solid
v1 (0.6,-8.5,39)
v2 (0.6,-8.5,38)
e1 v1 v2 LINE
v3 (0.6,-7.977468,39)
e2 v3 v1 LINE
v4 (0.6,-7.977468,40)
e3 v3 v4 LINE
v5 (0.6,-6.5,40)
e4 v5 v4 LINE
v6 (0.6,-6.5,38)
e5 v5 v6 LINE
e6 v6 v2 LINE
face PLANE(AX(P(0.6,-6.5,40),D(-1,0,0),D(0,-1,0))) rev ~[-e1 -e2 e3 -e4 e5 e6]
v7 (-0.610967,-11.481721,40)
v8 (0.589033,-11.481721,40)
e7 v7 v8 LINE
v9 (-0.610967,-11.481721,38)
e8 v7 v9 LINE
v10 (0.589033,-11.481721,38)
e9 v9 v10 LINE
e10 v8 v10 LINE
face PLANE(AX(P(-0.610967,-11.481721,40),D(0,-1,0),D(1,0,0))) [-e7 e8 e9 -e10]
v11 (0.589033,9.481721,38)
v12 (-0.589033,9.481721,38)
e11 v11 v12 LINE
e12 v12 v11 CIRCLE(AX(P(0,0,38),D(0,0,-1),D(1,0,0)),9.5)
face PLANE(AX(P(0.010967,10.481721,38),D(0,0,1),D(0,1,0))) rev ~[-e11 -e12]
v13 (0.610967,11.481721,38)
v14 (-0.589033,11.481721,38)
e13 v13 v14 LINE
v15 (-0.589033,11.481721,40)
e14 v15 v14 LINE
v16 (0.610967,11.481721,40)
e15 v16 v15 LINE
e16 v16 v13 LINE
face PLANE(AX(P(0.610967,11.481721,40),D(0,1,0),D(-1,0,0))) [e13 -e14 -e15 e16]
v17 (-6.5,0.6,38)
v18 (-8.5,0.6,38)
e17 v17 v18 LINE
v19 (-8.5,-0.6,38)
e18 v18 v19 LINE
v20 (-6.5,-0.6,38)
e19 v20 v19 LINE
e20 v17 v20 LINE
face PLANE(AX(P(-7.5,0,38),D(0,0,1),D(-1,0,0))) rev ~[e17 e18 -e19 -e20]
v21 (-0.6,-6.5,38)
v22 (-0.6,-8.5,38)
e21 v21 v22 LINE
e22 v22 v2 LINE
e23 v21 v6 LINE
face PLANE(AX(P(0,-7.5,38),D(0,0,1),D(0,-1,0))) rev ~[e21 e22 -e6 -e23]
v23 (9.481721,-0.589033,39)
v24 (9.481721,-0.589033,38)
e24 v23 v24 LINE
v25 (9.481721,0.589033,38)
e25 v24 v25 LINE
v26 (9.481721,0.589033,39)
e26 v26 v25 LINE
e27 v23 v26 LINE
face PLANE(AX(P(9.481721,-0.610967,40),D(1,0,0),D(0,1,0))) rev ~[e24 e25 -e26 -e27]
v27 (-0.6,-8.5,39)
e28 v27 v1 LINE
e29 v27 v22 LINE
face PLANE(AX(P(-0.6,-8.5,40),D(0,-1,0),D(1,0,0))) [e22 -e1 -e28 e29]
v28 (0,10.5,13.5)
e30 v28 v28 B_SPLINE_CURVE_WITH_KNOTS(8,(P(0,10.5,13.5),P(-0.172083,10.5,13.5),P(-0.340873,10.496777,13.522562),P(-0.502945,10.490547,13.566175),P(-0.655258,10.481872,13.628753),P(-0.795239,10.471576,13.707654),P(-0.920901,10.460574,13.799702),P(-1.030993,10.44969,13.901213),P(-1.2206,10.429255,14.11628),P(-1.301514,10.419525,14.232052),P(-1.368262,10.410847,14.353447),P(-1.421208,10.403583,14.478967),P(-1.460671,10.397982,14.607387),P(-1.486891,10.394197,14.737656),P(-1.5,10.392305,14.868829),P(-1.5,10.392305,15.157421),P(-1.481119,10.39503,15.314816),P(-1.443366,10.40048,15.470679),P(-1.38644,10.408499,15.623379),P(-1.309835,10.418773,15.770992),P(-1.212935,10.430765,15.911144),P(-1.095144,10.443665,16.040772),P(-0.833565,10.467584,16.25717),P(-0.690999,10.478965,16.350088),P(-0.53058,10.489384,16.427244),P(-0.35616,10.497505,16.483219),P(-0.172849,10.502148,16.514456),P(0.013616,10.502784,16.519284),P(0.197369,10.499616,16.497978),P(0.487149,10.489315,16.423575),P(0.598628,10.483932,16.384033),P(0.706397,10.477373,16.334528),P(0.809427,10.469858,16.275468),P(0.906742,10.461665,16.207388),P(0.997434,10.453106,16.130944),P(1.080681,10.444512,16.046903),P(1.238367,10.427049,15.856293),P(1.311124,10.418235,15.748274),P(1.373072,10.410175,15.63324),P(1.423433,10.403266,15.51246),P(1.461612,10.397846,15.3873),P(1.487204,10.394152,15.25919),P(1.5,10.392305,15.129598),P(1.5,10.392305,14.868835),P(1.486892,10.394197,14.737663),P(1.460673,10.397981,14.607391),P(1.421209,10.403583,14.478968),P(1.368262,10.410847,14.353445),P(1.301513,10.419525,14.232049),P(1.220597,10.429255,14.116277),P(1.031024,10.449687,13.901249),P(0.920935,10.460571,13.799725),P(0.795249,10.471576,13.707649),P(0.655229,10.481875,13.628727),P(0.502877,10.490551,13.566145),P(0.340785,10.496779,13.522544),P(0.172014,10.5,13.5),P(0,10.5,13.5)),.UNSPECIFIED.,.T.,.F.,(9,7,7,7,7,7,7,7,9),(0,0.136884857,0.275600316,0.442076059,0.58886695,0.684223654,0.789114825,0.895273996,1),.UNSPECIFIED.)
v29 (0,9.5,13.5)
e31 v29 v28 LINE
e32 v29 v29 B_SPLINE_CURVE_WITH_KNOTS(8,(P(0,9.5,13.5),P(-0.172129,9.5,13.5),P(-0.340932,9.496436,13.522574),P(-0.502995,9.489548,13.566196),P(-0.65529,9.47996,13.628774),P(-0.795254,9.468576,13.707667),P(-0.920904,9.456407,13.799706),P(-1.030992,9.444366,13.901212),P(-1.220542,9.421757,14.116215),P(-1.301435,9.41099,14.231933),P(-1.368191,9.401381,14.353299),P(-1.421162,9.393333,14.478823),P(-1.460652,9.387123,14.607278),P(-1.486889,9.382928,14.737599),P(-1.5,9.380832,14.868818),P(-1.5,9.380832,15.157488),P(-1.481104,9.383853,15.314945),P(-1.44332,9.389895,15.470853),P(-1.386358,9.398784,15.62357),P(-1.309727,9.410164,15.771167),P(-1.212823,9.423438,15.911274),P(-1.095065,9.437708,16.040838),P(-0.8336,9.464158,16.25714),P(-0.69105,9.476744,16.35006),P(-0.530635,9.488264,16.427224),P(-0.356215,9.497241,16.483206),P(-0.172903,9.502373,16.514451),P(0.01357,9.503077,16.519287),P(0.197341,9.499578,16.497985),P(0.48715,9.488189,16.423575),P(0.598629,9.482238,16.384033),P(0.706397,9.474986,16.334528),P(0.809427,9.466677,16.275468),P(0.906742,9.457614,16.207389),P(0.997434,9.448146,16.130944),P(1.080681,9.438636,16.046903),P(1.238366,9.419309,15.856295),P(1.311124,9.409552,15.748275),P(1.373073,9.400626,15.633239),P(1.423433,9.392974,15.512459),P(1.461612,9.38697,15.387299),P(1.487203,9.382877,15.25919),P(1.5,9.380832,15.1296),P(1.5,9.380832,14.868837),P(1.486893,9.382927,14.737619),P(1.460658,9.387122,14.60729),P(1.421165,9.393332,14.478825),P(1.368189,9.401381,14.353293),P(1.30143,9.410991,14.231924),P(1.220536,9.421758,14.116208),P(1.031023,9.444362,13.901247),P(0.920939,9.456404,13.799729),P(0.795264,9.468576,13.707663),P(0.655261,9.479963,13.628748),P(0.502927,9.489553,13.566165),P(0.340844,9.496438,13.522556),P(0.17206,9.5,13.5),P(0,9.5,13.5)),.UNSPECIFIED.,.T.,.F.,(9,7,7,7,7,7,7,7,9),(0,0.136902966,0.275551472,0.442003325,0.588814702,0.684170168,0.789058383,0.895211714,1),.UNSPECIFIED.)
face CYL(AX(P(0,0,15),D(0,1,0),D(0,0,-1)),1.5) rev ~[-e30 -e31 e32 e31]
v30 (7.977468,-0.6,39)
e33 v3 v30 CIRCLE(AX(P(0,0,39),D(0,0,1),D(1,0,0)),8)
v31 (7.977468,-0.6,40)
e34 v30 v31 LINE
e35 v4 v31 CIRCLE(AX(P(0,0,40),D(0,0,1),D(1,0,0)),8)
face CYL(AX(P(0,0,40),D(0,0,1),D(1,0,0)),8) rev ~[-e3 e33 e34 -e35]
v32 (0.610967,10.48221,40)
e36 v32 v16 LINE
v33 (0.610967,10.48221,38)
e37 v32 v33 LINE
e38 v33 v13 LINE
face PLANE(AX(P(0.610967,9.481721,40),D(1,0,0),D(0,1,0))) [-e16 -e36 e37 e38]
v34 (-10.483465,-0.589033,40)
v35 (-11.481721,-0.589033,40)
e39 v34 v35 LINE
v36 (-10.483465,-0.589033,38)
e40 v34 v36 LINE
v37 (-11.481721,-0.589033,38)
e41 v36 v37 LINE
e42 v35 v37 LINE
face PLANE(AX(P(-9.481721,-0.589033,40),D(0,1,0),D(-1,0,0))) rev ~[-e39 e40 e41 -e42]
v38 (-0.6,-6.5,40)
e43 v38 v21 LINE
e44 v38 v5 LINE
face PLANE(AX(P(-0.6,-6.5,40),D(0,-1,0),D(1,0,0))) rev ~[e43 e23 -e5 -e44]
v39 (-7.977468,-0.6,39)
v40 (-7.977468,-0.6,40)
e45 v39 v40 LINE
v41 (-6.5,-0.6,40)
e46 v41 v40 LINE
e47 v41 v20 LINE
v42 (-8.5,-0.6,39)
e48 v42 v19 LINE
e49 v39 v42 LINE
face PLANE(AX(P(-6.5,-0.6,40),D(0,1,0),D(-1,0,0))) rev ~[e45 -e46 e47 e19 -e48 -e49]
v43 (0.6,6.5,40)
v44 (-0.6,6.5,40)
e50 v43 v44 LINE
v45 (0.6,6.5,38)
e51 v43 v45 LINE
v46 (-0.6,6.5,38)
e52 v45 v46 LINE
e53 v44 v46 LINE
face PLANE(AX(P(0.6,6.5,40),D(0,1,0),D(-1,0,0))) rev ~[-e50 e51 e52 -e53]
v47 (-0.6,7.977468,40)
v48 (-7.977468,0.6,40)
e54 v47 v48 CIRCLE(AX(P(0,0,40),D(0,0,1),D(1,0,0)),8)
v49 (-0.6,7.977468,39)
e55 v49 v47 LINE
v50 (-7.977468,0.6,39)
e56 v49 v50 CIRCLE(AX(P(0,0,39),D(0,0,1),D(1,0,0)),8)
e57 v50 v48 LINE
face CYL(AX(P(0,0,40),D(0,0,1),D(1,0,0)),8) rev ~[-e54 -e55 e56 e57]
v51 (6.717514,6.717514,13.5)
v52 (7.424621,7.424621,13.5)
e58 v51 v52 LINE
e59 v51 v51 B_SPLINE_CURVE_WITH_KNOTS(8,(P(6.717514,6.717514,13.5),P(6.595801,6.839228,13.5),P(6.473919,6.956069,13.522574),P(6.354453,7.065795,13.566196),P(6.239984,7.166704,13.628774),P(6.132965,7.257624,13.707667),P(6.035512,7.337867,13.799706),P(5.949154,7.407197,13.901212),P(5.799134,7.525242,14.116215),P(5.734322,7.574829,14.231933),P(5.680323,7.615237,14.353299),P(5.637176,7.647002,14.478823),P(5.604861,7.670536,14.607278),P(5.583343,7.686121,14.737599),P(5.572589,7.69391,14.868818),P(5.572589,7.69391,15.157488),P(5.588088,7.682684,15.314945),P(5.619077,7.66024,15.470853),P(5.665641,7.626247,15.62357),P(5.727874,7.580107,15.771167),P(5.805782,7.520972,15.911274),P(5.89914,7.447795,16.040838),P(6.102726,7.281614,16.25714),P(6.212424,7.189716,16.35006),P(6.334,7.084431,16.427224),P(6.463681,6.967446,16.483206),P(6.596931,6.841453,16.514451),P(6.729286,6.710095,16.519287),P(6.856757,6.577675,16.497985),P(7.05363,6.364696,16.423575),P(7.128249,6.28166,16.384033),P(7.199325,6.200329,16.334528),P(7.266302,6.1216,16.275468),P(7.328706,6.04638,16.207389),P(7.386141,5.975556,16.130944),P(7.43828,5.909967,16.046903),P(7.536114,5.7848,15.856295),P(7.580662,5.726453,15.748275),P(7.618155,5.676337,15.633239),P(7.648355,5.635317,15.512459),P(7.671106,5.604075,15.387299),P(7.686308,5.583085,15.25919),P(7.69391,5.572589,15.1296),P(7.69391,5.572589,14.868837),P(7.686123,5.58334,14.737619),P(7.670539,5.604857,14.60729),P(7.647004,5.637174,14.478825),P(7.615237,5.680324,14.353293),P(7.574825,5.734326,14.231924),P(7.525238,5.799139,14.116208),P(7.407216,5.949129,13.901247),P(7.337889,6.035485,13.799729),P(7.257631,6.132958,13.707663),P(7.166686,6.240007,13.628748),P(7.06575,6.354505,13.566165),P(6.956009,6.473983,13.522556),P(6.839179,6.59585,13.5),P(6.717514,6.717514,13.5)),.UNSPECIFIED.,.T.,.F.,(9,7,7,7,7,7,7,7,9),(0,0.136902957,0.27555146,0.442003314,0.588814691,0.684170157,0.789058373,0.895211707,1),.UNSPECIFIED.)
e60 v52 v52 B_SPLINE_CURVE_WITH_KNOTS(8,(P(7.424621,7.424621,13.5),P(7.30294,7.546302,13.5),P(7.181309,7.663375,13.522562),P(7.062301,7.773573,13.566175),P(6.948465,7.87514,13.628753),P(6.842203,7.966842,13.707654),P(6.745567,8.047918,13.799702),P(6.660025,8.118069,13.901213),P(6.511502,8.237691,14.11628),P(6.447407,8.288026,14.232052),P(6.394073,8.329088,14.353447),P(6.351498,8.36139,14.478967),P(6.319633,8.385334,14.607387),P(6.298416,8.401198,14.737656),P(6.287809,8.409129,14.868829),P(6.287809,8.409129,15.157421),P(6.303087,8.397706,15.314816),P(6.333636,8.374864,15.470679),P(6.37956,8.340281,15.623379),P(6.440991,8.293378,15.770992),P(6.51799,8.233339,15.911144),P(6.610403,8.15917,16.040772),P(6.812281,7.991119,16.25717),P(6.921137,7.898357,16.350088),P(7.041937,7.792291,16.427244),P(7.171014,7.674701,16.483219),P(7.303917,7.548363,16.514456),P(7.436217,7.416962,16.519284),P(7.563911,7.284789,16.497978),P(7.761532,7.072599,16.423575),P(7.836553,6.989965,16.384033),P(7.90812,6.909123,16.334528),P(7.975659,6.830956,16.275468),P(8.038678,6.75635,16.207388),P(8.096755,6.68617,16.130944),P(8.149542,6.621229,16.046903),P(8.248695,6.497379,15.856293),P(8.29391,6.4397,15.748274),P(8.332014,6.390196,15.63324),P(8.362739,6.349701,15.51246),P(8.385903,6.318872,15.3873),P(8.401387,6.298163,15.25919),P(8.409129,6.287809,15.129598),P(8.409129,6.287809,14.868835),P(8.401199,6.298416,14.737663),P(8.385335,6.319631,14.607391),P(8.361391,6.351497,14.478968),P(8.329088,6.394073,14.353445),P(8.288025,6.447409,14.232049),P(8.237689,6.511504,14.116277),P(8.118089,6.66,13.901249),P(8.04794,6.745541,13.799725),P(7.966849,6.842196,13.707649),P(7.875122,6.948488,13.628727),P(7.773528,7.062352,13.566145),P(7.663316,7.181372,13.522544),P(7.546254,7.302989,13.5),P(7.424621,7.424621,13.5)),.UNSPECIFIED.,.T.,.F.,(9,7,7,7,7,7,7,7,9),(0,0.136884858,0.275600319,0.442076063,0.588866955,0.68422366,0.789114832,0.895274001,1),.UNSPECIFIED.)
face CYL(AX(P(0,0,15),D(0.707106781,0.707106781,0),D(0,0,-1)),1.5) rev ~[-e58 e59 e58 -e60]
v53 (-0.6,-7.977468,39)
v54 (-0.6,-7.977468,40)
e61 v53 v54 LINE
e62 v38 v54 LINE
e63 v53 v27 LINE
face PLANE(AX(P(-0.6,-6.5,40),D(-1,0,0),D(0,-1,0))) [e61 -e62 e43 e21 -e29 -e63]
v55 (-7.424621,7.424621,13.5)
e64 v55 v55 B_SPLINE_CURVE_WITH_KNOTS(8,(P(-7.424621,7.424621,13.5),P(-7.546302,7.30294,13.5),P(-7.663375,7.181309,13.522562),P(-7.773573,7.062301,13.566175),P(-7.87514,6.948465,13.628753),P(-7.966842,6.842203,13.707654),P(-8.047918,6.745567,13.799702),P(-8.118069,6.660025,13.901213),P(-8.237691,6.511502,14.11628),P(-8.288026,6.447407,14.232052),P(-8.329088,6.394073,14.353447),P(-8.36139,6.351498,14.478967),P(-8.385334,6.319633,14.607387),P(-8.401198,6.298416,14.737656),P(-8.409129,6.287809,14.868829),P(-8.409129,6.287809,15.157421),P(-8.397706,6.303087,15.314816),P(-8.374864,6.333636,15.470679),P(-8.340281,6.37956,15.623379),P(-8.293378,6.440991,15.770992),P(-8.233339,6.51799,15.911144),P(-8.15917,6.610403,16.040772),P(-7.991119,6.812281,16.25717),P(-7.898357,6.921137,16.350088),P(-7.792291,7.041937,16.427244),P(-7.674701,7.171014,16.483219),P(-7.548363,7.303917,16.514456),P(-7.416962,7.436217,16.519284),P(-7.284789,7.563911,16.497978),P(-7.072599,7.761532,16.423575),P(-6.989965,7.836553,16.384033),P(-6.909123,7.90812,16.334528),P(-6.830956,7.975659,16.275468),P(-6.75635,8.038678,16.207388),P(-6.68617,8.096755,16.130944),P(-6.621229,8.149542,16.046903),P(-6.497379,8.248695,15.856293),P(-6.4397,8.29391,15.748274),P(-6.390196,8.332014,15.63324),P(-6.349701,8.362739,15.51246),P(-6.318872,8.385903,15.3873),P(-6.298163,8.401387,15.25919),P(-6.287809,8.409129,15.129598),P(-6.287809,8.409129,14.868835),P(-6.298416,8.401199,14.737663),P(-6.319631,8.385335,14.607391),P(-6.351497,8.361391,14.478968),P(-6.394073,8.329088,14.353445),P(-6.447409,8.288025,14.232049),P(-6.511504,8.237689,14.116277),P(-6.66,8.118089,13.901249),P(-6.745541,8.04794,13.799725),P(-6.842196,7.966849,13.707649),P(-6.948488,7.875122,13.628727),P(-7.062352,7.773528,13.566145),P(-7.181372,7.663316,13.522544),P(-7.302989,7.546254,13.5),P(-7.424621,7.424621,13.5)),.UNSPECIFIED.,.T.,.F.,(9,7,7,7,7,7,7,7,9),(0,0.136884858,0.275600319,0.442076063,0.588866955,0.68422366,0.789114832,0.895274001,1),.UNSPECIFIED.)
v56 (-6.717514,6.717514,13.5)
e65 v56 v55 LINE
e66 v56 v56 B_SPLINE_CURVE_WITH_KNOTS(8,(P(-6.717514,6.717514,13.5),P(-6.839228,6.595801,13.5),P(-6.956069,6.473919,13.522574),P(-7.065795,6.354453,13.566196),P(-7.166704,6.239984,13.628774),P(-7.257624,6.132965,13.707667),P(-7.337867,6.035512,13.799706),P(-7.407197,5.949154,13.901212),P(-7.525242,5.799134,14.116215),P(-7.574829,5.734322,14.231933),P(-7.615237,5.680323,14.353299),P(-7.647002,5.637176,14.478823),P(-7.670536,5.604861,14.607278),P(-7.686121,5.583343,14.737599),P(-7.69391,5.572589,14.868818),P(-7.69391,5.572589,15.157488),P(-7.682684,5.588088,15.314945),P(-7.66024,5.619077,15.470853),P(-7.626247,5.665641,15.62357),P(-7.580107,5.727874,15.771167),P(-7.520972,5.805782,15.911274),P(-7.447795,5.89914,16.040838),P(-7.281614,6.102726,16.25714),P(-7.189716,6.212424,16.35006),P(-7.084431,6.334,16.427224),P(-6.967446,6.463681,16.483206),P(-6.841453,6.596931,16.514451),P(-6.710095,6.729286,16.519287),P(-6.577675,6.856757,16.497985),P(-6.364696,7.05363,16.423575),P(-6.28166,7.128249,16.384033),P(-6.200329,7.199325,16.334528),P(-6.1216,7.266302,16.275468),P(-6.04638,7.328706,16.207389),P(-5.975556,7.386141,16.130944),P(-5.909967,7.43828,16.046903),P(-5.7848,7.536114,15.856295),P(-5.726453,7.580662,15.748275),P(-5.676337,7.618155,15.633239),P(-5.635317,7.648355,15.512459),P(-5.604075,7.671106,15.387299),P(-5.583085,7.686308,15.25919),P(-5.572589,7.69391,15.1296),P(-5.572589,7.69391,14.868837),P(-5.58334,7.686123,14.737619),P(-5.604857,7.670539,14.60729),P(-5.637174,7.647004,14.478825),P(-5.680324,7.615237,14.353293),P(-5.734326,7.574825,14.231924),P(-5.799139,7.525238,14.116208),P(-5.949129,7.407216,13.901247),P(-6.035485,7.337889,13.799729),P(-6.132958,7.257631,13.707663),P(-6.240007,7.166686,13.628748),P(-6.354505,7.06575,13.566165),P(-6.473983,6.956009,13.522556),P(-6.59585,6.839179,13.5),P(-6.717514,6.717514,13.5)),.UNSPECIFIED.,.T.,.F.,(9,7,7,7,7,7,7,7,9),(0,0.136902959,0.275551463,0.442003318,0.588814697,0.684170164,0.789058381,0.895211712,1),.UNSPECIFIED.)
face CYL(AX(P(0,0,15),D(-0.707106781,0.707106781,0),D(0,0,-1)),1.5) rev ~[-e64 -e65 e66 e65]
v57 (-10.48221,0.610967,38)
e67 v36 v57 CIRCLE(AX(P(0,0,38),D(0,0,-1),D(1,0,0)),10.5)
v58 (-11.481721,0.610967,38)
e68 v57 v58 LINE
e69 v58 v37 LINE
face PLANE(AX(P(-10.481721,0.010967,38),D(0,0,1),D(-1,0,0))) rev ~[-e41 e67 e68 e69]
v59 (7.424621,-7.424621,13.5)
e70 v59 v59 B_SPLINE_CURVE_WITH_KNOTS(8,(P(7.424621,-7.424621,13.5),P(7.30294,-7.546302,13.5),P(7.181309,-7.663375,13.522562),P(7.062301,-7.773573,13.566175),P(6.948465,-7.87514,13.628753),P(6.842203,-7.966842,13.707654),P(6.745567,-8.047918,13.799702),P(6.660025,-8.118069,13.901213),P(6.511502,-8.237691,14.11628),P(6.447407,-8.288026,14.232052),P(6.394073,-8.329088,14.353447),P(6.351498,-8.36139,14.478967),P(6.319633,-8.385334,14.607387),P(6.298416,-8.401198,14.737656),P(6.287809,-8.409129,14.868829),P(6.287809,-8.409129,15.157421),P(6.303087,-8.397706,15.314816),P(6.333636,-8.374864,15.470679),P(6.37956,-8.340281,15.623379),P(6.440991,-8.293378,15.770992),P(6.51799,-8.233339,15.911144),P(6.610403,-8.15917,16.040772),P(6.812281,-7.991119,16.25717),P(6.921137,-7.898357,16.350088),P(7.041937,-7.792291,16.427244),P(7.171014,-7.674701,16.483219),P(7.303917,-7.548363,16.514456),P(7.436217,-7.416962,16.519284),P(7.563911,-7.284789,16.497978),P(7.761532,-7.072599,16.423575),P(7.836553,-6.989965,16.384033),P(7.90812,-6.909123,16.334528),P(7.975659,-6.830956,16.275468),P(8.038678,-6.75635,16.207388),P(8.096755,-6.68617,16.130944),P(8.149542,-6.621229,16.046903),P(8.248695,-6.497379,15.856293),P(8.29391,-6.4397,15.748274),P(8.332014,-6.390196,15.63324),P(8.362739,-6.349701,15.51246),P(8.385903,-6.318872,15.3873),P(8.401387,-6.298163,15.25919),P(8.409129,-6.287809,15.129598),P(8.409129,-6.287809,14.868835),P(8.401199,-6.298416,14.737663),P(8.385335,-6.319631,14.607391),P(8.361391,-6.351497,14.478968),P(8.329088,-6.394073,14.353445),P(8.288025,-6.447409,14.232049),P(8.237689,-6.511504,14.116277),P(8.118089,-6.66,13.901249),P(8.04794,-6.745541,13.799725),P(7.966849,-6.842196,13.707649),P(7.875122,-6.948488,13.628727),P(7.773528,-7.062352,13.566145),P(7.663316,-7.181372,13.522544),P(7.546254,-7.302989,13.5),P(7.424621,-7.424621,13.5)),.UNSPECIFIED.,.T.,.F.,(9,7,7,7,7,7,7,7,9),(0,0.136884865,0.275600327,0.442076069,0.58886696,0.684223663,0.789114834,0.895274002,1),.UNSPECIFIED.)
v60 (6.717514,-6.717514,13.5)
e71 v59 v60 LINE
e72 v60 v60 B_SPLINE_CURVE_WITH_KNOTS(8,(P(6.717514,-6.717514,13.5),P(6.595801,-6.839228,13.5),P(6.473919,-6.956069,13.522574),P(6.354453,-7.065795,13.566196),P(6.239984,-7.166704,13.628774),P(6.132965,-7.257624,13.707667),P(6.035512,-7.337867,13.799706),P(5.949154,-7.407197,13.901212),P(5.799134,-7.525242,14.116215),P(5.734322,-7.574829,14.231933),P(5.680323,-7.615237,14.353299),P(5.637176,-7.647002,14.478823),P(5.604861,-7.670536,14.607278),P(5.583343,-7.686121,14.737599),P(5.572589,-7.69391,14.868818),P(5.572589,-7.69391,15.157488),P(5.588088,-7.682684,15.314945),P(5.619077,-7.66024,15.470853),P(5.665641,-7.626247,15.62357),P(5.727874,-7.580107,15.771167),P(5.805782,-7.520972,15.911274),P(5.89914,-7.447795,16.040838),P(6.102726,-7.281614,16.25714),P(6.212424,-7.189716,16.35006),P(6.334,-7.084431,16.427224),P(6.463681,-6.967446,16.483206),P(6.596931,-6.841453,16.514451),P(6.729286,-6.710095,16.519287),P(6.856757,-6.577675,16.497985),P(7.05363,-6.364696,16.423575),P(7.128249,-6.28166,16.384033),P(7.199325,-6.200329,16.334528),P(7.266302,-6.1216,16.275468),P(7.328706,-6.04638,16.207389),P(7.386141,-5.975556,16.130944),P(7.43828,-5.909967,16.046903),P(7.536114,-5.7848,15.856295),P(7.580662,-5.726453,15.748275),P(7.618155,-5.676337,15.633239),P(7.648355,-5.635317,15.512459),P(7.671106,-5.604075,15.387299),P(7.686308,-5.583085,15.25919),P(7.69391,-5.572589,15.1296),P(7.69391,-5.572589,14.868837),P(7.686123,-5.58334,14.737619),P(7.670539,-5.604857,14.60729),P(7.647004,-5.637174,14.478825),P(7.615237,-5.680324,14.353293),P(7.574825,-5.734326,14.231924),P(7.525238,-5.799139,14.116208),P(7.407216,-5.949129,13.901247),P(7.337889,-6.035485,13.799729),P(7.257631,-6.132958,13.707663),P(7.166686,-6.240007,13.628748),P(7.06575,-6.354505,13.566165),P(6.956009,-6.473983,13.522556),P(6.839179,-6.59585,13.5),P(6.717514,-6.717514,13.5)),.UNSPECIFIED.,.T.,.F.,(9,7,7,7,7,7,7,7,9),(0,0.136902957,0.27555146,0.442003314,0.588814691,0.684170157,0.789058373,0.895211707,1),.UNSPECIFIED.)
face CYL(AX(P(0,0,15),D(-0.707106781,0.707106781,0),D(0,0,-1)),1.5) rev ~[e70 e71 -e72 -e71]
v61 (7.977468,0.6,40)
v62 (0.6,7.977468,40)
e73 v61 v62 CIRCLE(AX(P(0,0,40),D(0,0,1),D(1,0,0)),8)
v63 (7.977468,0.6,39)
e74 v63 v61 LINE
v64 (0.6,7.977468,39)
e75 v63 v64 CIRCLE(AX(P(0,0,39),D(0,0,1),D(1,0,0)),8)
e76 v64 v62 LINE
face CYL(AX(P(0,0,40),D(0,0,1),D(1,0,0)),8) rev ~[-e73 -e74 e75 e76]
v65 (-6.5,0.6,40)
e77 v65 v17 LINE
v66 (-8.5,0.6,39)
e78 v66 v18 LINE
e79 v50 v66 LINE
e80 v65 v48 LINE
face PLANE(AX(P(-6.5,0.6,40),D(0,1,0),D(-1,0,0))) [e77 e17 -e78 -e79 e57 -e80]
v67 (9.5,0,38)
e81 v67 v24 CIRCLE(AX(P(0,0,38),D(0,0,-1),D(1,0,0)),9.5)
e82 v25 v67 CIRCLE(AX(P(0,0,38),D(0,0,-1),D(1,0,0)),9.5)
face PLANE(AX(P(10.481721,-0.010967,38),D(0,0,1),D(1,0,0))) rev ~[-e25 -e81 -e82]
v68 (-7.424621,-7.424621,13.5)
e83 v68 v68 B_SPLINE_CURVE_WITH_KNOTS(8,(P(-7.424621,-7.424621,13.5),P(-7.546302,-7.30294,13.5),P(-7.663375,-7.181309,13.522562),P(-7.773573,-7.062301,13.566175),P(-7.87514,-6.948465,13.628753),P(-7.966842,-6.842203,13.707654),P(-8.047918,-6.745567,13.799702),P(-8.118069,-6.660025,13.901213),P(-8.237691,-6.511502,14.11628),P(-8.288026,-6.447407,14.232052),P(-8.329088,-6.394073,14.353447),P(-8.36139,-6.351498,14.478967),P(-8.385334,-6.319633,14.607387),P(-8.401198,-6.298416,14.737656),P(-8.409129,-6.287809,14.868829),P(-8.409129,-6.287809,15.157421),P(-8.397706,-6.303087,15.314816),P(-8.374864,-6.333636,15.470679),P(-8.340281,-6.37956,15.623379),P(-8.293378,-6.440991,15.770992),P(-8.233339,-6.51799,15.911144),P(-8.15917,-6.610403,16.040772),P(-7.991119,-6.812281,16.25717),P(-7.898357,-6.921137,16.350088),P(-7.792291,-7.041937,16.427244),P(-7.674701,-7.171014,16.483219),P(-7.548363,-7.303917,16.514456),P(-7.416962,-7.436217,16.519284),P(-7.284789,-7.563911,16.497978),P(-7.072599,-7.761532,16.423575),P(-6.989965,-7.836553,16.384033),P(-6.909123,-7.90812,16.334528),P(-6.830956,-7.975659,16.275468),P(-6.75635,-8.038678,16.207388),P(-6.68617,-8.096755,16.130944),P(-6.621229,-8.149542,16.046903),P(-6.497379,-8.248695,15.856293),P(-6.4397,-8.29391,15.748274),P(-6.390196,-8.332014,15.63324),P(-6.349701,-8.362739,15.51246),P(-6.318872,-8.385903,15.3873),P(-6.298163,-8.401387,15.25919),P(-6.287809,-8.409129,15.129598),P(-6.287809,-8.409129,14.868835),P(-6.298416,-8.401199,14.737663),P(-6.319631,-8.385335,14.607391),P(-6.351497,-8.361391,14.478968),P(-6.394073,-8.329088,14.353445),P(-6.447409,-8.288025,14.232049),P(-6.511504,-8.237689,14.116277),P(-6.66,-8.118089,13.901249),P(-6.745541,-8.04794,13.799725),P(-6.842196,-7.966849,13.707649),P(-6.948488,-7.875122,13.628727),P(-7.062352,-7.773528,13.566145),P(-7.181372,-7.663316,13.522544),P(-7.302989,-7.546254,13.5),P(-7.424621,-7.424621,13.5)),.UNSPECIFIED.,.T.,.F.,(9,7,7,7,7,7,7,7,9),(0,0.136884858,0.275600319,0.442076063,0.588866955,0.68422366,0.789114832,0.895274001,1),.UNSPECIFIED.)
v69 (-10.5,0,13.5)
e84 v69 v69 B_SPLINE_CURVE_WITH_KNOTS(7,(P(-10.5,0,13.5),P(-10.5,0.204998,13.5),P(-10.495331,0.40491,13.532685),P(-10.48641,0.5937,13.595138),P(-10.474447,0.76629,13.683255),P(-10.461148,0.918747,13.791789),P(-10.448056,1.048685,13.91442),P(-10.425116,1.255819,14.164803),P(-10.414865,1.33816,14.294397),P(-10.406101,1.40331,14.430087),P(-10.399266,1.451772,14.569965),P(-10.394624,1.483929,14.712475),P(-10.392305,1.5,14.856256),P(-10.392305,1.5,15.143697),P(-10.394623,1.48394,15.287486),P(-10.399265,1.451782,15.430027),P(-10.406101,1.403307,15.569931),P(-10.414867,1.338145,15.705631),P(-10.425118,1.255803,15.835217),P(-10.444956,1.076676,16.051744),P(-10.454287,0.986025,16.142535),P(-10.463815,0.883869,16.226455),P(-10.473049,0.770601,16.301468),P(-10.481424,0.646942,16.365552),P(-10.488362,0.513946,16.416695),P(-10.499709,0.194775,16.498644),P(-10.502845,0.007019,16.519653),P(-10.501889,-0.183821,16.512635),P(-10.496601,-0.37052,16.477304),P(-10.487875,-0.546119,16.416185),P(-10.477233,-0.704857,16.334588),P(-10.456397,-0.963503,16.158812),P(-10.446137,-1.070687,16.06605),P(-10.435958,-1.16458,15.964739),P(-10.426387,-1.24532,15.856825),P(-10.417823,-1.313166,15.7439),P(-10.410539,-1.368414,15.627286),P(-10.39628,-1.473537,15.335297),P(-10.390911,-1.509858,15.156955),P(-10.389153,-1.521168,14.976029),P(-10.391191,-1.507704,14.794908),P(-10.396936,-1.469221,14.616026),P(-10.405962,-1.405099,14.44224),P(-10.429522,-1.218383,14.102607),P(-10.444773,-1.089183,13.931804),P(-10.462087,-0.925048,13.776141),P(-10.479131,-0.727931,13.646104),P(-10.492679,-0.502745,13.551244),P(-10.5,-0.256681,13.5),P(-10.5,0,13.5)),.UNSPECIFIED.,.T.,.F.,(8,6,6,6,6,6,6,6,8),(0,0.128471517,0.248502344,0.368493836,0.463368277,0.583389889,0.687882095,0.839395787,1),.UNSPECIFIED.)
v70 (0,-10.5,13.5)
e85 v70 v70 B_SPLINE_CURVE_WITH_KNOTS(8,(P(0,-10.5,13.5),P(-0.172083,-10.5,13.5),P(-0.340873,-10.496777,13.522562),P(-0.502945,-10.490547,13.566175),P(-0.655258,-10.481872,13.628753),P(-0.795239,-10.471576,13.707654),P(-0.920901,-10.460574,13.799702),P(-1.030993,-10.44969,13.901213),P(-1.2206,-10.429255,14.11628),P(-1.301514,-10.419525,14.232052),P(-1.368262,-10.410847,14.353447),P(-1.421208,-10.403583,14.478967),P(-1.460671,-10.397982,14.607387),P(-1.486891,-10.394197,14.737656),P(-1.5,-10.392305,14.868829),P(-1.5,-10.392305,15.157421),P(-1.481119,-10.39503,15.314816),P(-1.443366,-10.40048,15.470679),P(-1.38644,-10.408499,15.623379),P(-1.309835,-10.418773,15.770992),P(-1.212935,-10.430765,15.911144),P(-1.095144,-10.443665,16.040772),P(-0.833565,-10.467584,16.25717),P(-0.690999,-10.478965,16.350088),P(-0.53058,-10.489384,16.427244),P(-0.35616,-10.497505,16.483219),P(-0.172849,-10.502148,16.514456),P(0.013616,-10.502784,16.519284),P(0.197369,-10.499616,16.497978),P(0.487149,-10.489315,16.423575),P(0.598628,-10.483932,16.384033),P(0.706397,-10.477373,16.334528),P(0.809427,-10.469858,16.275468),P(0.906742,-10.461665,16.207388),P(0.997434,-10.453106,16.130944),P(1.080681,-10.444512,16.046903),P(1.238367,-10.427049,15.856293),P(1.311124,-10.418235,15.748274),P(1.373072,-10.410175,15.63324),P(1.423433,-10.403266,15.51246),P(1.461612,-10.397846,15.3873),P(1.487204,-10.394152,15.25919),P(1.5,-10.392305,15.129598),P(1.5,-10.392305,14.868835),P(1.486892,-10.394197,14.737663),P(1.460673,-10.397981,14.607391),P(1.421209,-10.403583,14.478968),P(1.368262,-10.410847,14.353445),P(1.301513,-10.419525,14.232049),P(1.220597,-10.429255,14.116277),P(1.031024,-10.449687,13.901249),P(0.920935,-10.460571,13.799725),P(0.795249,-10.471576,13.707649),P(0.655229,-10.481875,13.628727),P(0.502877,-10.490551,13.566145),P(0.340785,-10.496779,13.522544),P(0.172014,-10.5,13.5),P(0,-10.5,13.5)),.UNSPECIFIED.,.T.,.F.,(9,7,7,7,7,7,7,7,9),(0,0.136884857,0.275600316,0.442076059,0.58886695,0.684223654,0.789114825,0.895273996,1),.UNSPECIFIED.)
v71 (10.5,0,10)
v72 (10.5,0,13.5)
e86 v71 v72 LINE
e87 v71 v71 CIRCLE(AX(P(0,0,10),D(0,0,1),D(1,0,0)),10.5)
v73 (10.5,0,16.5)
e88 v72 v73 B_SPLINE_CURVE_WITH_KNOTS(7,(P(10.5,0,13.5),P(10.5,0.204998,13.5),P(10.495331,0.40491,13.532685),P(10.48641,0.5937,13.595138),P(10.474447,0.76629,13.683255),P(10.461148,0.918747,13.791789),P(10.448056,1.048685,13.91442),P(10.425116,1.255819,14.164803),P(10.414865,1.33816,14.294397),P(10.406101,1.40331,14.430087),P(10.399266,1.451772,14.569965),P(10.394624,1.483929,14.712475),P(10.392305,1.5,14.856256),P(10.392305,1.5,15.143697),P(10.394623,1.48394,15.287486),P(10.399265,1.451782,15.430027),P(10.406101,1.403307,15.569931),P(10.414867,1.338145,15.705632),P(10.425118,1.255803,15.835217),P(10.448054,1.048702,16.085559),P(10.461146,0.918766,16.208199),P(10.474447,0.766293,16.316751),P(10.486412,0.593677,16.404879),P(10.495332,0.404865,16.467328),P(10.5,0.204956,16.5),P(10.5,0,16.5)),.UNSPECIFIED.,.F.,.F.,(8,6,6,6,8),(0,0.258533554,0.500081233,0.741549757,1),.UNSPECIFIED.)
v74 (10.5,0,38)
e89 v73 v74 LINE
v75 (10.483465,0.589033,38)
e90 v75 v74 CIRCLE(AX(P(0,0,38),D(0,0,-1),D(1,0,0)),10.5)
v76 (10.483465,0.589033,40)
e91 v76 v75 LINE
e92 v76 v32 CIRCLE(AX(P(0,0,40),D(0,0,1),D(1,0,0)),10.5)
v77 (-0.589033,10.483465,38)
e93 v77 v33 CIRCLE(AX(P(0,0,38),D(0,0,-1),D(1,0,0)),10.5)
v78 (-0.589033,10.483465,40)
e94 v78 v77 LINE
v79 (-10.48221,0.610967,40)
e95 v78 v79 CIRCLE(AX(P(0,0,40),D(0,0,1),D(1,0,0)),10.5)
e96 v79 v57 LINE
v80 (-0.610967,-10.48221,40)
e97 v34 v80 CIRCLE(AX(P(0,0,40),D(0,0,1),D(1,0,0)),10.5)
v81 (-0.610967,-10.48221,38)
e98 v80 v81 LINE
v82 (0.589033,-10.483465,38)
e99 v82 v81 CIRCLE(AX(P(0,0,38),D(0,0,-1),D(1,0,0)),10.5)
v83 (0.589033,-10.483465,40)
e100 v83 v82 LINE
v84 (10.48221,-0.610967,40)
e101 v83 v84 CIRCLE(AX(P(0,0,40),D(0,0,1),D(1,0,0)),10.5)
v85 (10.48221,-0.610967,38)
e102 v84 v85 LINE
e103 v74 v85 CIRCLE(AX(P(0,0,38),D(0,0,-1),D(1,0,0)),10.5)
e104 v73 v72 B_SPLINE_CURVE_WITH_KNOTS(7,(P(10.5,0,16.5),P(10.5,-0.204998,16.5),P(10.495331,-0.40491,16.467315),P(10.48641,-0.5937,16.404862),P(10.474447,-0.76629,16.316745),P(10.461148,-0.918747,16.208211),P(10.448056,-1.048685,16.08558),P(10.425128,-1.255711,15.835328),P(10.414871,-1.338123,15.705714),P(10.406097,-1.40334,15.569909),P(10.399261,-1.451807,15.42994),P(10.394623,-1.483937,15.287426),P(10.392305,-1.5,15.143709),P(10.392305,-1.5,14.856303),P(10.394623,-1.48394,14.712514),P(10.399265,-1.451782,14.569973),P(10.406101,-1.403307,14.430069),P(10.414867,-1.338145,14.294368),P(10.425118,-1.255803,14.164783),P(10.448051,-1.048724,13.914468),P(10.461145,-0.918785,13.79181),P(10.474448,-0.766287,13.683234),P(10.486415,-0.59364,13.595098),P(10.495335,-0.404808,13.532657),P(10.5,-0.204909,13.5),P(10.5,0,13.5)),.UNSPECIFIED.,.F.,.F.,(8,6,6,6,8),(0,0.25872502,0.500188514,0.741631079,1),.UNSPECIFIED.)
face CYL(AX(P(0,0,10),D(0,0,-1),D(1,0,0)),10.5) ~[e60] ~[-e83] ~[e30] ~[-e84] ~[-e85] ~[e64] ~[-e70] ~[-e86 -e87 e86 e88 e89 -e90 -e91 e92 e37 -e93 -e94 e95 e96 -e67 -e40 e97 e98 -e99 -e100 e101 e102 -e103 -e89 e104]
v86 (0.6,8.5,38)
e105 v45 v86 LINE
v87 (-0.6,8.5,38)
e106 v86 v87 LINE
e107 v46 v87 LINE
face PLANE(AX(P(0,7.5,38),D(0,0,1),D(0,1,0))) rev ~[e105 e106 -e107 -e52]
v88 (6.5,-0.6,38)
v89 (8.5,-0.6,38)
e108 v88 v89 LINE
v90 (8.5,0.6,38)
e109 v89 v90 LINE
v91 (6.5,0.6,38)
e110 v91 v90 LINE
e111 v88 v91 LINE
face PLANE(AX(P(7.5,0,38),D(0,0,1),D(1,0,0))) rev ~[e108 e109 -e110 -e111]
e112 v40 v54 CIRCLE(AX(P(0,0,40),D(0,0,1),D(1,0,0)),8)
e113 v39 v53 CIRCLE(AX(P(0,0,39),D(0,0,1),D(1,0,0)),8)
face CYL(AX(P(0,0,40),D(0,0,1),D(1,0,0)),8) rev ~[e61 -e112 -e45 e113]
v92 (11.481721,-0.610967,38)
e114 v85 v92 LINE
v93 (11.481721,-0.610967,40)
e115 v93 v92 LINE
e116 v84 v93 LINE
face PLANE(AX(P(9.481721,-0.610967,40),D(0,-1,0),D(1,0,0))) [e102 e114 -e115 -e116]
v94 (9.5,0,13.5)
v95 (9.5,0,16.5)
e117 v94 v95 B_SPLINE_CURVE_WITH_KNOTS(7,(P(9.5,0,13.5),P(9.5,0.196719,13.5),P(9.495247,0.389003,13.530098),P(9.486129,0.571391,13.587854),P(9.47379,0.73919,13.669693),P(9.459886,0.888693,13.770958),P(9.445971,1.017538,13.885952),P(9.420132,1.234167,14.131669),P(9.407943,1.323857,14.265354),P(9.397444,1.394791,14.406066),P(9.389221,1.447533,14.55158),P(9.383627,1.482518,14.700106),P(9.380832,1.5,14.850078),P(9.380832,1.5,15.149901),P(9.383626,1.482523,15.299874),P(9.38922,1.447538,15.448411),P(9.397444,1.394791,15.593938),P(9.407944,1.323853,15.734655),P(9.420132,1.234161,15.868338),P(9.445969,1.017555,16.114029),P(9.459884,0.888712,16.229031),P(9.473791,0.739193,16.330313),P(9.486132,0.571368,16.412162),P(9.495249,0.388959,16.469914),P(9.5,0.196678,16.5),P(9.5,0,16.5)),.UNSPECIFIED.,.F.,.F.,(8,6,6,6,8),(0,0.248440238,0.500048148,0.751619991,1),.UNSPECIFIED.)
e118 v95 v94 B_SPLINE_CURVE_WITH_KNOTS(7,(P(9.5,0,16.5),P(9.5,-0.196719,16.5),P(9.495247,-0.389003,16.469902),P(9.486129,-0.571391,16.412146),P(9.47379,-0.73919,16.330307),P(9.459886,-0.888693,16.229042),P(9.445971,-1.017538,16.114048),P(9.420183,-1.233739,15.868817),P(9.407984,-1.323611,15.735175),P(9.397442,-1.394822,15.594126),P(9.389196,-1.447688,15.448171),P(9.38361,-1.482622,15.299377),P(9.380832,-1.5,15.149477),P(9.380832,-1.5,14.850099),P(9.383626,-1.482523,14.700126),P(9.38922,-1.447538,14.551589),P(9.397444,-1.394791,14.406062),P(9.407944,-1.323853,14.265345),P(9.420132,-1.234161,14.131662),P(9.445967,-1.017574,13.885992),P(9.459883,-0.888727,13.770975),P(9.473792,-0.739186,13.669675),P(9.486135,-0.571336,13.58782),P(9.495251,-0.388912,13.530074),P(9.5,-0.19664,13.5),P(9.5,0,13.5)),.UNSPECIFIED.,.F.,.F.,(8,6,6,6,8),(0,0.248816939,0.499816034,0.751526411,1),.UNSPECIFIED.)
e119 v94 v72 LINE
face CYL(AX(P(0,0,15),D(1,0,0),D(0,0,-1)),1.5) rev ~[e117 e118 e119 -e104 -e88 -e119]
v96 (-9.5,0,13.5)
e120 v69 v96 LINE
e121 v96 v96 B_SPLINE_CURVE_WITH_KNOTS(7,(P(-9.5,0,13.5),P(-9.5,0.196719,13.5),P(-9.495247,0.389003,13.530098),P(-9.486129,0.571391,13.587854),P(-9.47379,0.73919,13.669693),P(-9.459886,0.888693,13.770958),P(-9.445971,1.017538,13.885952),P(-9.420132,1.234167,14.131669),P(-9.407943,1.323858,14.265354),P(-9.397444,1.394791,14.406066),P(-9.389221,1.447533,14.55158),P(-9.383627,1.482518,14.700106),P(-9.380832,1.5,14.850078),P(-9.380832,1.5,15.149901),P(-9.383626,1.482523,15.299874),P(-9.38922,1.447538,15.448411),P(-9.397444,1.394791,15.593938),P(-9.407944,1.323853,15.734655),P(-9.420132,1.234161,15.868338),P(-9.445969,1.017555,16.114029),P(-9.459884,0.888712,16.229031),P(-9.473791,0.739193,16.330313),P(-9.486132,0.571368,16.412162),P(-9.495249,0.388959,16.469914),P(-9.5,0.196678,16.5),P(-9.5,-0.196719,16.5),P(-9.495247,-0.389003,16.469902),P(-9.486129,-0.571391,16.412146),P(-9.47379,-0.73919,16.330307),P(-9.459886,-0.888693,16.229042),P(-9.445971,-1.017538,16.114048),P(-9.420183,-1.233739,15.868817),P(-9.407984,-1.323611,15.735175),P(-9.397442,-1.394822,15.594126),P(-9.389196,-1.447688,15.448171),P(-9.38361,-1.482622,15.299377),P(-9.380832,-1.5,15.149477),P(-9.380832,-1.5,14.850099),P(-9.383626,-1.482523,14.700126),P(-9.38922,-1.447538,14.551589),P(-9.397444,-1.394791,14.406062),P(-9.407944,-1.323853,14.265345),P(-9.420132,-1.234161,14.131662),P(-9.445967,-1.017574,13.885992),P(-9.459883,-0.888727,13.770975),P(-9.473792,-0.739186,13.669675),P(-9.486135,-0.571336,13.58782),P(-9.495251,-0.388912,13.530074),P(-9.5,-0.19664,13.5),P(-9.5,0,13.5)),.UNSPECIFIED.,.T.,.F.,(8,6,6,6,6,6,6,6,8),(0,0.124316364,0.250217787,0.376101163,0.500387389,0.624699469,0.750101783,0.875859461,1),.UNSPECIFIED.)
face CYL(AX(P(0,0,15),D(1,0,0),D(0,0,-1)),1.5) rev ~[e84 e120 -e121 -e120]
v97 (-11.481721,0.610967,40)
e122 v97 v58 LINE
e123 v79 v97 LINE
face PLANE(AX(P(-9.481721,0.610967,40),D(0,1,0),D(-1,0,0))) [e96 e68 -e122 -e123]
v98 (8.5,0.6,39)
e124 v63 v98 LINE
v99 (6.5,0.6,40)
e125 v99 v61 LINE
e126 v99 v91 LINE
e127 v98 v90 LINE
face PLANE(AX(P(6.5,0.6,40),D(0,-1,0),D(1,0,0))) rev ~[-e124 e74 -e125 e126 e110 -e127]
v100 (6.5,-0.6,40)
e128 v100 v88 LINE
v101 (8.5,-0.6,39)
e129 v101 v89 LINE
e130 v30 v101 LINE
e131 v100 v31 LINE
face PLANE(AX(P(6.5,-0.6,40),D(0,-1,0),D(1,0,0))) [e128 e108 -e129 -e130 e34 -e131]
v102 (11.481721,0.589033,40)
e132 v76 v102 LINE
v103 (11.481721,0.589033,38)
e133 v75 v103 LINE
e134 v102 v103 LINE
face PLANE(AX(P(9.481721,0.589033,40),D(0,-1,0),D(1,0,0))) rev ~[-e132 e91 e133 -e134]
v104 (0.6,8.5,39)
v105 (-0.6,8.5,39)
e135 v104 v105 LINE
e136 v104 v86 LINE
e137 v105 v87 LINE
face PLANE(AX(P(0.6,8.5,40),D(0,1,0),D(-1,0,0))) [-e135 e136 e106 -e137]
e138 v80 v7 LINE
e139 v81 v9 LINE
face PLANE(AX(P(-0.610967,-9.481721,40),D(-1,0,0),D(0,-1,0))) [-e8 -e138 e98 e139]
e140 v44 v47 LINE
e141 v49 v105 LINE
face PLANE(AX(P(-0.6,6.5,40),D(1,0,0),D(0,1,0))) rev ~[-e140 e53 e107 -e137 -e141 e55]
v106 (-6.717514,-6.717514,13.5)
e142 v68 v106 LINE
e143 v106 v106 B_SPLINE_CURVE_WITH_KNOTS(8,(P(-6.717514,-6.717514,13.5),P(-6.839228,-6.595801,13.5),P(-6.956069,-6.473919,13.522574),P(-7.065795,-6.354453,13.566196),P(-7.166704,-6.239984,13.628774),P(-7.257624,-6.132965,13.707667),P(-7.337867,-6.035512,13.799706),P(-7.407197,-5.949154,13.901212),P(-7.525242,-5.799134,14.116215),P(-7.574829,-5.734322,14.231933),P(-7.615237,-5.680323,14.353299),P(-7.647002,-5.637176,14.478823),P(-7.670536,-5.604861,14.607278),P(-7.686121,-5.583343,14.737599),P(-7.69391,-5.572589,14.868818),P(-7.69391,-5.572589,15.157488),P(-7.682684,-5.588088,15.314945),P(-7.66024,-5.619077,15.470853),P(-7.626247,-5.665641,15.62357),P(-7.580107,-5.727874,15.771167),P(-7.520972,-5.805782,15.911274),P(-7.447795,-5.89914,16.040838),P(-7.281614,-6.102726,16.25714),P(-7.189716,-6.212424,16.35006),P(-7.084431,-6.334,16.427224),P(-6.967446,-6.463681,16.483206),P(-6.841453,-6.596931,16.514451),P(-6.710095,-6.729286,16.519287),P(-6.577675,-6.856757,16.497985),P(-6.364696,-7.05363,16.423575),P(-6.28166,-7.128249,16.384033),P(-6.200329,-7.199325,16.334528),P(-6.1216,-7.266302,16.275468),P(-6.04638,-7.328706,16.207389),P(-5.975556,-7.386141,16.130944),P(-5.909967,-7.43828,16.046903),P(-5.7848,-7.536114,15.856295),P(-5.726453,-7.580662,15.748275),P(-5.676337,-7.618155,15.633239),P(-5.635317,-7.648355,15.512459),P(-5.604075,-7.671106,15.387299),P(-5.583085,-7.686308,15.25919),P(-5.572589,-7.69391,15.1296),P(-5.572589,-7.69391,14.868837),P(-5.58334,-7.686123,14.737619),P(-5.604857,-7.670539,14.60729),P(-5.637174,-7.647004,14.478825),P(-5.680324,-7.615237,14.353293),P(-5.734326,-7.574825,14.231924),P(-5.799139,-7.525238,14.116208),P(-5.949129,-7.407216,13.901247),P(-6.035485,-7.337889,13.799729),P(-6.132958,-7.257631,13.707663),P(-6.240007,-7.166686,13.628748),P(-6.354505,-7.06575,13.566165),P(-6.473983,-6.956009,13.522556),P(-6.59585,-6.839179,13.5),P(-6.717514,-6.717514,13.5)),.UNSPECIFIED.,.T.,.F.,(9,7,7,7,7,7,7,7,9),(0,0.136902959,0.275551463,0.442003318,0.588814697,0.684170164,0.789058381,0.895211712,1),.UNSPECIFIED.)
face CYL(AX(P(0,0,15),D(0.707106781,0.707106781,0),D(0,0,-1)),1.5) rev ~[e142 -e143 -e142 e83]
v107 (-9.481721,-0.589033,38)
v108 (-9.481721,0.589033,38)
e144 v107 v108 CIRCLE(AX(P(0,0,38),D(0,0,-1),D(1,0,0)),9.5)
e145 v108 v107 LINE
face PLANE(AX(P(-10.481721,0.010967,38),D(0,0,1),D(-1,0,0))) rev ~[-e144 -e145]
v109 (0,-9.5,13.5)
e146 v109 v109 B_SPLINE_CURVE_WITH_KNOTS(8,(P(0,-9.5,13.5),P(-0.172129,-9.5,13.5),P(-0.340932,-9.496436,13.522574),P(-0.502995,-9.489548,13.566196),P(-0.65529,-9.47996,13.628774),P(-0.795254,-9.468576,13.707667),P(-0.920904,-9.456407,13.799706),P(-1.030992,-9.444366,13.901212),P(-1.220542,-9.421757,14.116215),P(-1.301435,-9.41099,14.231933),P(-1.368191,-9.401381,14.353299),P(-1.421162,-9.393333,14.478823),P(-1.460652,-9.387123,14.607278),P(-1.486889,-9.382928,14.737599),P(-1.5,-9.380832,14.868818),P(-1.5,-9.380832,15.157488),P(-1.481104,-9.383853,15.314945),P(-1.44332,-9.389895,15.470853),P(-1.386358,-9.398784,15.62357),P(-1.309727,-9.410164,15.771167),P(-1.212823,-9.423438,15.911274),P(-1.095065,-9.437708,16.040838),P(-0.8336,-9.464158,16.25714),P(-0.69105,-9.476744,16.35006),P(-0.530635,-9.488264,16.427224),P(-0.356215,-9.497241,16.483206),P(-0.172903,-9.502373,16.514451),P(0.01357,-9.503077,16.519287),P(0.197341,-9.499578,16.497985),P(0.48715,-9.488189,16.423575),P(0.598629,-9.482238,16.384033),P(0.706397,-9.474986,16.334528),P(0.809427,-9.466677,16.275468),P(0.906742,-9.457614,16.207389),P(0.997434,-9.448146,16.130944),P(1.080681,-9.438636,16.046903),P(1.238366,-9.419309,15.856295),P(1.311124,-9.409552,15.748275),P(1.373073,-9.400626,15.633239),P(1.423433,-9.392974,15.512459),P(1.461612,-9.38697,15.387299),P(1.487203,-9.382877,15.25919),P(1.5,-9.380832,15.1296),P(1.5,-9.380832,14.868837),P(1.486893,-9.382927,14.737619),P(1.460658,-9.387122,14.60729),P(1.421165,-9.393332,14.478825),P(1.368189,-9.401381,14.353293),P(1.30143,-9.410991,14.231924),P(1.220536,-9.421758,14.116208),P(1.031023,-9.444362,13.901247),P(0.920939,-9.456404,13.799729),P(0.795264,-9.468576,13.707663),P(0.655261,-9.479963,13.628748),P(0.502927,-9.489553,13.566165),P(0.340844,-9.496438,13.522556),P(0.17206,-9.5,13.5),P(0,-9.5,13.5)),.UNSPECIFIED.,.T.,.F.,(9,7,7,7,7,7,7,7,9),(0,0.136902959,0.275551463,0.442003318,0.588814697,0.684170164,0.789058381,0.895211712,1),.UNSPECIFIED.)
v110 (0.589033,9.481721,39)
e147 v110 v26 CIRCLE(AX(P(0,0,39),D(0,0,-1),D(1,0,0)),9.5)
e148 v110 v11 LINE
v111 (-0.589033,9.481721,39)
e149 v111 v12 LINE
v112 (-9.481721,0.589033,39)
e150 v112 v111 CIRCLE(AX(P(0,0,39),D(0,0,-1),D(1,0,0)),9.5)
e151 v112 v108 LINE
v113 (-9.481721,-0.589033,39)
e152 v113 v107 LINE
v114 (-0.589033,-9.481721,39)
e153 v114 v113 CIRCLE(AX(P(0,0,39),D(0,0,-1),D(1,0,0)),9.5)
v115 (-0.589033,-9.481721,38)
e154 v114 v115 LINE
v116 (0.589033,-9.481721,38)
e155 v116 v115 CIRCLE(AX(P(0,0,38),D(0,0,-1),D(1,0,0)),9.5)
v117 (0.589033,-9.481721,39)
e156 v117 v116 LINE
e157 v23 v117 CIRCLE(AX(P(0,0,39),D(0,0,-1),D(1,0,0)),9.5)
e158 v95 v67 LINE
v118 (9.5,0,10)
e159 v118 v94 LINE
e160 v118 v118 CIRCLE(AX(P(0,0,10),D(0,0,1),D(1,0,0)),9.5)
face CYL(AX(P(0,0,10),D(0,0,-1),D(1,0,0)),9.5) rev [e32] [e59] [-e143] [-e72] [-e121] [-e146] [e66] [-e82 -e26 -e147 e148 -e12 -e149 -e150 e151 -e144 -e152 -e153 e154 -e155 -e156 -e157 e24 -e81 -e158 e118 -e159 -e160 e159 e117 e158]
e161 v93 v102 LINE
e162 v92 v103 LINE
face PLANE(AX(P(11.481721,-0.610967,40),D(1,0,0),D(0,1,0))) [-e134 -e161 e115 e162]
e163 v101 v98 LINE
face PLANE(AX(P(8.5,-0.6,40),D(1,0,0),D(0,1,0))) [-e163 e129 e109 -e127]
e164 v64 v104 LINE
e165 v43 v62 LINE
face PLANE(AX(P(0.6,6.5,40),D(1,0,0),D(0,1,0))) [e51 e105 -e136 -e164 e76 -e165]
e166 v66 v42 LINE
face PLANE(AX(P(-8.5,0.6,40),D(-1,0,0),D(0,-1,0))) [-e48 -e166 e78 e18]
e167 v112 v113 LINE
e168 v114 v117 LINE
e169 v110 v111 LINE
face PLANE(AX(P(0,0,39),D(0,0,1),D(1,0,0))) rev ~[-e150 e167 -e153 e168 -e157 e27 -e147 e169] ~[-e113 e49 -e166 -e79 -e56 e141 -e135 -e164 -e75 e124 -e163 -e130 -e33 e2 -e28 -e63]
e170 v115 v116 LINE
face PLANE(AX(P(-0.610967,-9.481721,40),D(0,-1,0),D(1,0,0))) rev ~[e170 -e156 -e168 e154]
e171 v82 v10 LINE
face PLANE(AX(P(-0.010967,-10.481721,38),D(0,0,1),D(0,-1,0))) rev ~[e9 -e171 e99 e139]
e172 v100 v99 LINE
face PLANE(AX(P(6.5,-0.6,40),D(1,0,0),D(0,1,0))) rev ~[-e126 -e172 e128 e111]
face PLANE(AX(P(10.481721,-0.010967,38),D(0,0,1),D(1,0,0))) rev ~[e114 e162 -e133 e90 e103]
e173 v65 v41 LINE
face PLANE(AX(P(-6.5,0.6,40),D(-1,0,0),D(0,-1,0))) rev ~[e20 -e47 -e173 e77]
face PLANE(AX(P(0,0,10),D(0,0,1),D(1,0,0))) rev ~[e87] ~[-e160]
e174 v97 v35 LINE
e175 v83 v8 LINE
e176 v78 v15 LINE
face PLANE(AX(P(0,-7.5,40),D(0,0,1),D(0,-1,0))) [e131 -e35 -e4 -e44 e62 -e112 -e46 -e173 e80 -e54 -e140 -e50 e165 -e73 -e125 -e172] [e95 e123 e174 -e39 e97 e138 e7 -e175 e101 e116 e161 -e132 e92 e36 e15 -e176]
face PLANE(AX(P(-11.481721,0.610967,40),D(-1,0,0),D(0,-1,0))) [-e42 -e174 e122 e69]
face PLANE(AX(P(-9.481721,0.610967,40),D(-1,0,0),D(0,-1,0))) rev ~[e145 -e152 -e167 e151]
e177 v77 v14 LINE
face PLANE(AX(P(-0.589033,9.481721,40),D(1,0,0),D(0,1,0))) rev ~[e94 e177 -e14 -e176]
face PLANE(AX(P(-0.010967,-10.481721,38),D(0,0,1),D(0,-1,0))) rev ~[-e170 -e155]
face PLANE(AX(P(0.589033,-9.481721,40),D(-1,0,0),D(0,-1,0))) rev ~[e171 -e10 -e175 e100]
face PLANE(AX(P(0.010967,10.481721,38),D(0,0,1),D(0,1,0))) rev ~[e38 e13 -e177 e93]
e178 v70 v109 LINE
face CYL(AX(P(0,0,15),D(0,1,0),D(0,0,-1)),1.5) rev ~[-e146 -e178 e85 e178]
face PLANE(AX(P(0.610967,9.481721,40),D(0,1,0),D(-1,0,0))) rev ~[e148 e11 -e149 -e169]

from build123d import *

# Parameters (mm, degrees)
EXTRUDE_START            = 10
SKETCH_1_R               = 10.5
SKETCH_1_R_2             = 9.5
EXTRUDE_1_DEPTH          = 30
EXTRUDE_START_2          = 40
SKETCH_6_R               = 10
SKETCH_6_R_2             = 8
EXTRUDE_3_DEPTH          = 1
SKETCH_5_W               = 2
SKETCH_5_H               = 1.2
EXTRUDE_4_DEPTH          = 2
PATTERN_CIRCULAR_1_COUNT = 4
SKETCH_7_R               = 1.5
CUT_EXTRUDE_2_DEPTH      = 20
PATTERN_CIRCULAR_2_COUNT = 8


with BuildPart() as part:
    # ｽｹｯﾁ1 → ﾎﾞｽ - 押し出し1 (new body)
    with BuildSketch(Plane.XY.offset(EXTRUDE_START)):
        Circle(SKETCH_1_R)
        Circle(SKETCH_1_R_2, mode=Mode.SUBTRACT)
    extrude(amount=EXTRUDE_1_DEPTH)

    # ｽｹｯﾁ6 → ﾎﾞｽ - 押し出し3 (add)
    with BuildSketch(Plane.XY.offset(EXTRUDE_START_2)):
        Circle(SKETCH_6_R)
        Circle(SKETCH_6_R_2, mode=Mode.SUBTRACT)
    extrude(amount=-EXTRUDE_3_DEPTH)

    # ｽｹｯﾁ5 → ﾎﾞｽ - 押し出し4 (add)
    with BuildSketch(Plane.XY.offset(40)):
        with Locations((7.5, 0)):
            Rectangle(SKETCH_5_W, SKETCH_5_H)
        with Locations((10.48172138, -0.010967172)):
            Rectangle(SKETCH_5_W, SKETCH_5_H)
    extrude_4 = extrude(amount=-EXTRUDE_4_DEPTH)

    # 円形ﾊﾟﾀｰﾝ1: ﾎﾞｽ - 押し出し4 ×4 about axis
    pattern_circular_1_axis = Axis((0, 0, 0), (0, 0, 1))
    for i in range(1, PATTERN_CIRCULAR_1_COUNT):
        add(extrude_4.rotate(pattern_circular_1_axis, i * 360 / PATTERN_CIRCULAR_1_COUNT))

    # ｽｹｯﾁ7 → ｶｯﾄ - 押し出し2 (cut, symmetric)
    with BuildSketch(Plane(origin=(0, 0, 0), x_dir=(0, 0, -1), z_dir=(1, 0, 0))):
        with Locations((-15, 0)):
            Circle(SKETCH_7_R)
    cut_extrude_2 = extrude(amount=CUT_EXTRUDE_2_DEPTH, both=True, mode=Mode.SUBTRACT)

    # 円形ﾊﾟﾀｰﾝ2: ｶｯﾄ - 押し出し2 ×8 about axis
    pattern_circular_2_axis = Axis((0, 0, 39), (0, 0, 1))
    for i in range(1, PATTERN_CIRCULAR_2_COUNT):
        add(cut_extrude_2.rotate(pattern_circular_2_axis, i * 360 / PATTERN_CIRCULAR_2_COUNT), mode=Mode.SUBTRACT)


solid = part.part
